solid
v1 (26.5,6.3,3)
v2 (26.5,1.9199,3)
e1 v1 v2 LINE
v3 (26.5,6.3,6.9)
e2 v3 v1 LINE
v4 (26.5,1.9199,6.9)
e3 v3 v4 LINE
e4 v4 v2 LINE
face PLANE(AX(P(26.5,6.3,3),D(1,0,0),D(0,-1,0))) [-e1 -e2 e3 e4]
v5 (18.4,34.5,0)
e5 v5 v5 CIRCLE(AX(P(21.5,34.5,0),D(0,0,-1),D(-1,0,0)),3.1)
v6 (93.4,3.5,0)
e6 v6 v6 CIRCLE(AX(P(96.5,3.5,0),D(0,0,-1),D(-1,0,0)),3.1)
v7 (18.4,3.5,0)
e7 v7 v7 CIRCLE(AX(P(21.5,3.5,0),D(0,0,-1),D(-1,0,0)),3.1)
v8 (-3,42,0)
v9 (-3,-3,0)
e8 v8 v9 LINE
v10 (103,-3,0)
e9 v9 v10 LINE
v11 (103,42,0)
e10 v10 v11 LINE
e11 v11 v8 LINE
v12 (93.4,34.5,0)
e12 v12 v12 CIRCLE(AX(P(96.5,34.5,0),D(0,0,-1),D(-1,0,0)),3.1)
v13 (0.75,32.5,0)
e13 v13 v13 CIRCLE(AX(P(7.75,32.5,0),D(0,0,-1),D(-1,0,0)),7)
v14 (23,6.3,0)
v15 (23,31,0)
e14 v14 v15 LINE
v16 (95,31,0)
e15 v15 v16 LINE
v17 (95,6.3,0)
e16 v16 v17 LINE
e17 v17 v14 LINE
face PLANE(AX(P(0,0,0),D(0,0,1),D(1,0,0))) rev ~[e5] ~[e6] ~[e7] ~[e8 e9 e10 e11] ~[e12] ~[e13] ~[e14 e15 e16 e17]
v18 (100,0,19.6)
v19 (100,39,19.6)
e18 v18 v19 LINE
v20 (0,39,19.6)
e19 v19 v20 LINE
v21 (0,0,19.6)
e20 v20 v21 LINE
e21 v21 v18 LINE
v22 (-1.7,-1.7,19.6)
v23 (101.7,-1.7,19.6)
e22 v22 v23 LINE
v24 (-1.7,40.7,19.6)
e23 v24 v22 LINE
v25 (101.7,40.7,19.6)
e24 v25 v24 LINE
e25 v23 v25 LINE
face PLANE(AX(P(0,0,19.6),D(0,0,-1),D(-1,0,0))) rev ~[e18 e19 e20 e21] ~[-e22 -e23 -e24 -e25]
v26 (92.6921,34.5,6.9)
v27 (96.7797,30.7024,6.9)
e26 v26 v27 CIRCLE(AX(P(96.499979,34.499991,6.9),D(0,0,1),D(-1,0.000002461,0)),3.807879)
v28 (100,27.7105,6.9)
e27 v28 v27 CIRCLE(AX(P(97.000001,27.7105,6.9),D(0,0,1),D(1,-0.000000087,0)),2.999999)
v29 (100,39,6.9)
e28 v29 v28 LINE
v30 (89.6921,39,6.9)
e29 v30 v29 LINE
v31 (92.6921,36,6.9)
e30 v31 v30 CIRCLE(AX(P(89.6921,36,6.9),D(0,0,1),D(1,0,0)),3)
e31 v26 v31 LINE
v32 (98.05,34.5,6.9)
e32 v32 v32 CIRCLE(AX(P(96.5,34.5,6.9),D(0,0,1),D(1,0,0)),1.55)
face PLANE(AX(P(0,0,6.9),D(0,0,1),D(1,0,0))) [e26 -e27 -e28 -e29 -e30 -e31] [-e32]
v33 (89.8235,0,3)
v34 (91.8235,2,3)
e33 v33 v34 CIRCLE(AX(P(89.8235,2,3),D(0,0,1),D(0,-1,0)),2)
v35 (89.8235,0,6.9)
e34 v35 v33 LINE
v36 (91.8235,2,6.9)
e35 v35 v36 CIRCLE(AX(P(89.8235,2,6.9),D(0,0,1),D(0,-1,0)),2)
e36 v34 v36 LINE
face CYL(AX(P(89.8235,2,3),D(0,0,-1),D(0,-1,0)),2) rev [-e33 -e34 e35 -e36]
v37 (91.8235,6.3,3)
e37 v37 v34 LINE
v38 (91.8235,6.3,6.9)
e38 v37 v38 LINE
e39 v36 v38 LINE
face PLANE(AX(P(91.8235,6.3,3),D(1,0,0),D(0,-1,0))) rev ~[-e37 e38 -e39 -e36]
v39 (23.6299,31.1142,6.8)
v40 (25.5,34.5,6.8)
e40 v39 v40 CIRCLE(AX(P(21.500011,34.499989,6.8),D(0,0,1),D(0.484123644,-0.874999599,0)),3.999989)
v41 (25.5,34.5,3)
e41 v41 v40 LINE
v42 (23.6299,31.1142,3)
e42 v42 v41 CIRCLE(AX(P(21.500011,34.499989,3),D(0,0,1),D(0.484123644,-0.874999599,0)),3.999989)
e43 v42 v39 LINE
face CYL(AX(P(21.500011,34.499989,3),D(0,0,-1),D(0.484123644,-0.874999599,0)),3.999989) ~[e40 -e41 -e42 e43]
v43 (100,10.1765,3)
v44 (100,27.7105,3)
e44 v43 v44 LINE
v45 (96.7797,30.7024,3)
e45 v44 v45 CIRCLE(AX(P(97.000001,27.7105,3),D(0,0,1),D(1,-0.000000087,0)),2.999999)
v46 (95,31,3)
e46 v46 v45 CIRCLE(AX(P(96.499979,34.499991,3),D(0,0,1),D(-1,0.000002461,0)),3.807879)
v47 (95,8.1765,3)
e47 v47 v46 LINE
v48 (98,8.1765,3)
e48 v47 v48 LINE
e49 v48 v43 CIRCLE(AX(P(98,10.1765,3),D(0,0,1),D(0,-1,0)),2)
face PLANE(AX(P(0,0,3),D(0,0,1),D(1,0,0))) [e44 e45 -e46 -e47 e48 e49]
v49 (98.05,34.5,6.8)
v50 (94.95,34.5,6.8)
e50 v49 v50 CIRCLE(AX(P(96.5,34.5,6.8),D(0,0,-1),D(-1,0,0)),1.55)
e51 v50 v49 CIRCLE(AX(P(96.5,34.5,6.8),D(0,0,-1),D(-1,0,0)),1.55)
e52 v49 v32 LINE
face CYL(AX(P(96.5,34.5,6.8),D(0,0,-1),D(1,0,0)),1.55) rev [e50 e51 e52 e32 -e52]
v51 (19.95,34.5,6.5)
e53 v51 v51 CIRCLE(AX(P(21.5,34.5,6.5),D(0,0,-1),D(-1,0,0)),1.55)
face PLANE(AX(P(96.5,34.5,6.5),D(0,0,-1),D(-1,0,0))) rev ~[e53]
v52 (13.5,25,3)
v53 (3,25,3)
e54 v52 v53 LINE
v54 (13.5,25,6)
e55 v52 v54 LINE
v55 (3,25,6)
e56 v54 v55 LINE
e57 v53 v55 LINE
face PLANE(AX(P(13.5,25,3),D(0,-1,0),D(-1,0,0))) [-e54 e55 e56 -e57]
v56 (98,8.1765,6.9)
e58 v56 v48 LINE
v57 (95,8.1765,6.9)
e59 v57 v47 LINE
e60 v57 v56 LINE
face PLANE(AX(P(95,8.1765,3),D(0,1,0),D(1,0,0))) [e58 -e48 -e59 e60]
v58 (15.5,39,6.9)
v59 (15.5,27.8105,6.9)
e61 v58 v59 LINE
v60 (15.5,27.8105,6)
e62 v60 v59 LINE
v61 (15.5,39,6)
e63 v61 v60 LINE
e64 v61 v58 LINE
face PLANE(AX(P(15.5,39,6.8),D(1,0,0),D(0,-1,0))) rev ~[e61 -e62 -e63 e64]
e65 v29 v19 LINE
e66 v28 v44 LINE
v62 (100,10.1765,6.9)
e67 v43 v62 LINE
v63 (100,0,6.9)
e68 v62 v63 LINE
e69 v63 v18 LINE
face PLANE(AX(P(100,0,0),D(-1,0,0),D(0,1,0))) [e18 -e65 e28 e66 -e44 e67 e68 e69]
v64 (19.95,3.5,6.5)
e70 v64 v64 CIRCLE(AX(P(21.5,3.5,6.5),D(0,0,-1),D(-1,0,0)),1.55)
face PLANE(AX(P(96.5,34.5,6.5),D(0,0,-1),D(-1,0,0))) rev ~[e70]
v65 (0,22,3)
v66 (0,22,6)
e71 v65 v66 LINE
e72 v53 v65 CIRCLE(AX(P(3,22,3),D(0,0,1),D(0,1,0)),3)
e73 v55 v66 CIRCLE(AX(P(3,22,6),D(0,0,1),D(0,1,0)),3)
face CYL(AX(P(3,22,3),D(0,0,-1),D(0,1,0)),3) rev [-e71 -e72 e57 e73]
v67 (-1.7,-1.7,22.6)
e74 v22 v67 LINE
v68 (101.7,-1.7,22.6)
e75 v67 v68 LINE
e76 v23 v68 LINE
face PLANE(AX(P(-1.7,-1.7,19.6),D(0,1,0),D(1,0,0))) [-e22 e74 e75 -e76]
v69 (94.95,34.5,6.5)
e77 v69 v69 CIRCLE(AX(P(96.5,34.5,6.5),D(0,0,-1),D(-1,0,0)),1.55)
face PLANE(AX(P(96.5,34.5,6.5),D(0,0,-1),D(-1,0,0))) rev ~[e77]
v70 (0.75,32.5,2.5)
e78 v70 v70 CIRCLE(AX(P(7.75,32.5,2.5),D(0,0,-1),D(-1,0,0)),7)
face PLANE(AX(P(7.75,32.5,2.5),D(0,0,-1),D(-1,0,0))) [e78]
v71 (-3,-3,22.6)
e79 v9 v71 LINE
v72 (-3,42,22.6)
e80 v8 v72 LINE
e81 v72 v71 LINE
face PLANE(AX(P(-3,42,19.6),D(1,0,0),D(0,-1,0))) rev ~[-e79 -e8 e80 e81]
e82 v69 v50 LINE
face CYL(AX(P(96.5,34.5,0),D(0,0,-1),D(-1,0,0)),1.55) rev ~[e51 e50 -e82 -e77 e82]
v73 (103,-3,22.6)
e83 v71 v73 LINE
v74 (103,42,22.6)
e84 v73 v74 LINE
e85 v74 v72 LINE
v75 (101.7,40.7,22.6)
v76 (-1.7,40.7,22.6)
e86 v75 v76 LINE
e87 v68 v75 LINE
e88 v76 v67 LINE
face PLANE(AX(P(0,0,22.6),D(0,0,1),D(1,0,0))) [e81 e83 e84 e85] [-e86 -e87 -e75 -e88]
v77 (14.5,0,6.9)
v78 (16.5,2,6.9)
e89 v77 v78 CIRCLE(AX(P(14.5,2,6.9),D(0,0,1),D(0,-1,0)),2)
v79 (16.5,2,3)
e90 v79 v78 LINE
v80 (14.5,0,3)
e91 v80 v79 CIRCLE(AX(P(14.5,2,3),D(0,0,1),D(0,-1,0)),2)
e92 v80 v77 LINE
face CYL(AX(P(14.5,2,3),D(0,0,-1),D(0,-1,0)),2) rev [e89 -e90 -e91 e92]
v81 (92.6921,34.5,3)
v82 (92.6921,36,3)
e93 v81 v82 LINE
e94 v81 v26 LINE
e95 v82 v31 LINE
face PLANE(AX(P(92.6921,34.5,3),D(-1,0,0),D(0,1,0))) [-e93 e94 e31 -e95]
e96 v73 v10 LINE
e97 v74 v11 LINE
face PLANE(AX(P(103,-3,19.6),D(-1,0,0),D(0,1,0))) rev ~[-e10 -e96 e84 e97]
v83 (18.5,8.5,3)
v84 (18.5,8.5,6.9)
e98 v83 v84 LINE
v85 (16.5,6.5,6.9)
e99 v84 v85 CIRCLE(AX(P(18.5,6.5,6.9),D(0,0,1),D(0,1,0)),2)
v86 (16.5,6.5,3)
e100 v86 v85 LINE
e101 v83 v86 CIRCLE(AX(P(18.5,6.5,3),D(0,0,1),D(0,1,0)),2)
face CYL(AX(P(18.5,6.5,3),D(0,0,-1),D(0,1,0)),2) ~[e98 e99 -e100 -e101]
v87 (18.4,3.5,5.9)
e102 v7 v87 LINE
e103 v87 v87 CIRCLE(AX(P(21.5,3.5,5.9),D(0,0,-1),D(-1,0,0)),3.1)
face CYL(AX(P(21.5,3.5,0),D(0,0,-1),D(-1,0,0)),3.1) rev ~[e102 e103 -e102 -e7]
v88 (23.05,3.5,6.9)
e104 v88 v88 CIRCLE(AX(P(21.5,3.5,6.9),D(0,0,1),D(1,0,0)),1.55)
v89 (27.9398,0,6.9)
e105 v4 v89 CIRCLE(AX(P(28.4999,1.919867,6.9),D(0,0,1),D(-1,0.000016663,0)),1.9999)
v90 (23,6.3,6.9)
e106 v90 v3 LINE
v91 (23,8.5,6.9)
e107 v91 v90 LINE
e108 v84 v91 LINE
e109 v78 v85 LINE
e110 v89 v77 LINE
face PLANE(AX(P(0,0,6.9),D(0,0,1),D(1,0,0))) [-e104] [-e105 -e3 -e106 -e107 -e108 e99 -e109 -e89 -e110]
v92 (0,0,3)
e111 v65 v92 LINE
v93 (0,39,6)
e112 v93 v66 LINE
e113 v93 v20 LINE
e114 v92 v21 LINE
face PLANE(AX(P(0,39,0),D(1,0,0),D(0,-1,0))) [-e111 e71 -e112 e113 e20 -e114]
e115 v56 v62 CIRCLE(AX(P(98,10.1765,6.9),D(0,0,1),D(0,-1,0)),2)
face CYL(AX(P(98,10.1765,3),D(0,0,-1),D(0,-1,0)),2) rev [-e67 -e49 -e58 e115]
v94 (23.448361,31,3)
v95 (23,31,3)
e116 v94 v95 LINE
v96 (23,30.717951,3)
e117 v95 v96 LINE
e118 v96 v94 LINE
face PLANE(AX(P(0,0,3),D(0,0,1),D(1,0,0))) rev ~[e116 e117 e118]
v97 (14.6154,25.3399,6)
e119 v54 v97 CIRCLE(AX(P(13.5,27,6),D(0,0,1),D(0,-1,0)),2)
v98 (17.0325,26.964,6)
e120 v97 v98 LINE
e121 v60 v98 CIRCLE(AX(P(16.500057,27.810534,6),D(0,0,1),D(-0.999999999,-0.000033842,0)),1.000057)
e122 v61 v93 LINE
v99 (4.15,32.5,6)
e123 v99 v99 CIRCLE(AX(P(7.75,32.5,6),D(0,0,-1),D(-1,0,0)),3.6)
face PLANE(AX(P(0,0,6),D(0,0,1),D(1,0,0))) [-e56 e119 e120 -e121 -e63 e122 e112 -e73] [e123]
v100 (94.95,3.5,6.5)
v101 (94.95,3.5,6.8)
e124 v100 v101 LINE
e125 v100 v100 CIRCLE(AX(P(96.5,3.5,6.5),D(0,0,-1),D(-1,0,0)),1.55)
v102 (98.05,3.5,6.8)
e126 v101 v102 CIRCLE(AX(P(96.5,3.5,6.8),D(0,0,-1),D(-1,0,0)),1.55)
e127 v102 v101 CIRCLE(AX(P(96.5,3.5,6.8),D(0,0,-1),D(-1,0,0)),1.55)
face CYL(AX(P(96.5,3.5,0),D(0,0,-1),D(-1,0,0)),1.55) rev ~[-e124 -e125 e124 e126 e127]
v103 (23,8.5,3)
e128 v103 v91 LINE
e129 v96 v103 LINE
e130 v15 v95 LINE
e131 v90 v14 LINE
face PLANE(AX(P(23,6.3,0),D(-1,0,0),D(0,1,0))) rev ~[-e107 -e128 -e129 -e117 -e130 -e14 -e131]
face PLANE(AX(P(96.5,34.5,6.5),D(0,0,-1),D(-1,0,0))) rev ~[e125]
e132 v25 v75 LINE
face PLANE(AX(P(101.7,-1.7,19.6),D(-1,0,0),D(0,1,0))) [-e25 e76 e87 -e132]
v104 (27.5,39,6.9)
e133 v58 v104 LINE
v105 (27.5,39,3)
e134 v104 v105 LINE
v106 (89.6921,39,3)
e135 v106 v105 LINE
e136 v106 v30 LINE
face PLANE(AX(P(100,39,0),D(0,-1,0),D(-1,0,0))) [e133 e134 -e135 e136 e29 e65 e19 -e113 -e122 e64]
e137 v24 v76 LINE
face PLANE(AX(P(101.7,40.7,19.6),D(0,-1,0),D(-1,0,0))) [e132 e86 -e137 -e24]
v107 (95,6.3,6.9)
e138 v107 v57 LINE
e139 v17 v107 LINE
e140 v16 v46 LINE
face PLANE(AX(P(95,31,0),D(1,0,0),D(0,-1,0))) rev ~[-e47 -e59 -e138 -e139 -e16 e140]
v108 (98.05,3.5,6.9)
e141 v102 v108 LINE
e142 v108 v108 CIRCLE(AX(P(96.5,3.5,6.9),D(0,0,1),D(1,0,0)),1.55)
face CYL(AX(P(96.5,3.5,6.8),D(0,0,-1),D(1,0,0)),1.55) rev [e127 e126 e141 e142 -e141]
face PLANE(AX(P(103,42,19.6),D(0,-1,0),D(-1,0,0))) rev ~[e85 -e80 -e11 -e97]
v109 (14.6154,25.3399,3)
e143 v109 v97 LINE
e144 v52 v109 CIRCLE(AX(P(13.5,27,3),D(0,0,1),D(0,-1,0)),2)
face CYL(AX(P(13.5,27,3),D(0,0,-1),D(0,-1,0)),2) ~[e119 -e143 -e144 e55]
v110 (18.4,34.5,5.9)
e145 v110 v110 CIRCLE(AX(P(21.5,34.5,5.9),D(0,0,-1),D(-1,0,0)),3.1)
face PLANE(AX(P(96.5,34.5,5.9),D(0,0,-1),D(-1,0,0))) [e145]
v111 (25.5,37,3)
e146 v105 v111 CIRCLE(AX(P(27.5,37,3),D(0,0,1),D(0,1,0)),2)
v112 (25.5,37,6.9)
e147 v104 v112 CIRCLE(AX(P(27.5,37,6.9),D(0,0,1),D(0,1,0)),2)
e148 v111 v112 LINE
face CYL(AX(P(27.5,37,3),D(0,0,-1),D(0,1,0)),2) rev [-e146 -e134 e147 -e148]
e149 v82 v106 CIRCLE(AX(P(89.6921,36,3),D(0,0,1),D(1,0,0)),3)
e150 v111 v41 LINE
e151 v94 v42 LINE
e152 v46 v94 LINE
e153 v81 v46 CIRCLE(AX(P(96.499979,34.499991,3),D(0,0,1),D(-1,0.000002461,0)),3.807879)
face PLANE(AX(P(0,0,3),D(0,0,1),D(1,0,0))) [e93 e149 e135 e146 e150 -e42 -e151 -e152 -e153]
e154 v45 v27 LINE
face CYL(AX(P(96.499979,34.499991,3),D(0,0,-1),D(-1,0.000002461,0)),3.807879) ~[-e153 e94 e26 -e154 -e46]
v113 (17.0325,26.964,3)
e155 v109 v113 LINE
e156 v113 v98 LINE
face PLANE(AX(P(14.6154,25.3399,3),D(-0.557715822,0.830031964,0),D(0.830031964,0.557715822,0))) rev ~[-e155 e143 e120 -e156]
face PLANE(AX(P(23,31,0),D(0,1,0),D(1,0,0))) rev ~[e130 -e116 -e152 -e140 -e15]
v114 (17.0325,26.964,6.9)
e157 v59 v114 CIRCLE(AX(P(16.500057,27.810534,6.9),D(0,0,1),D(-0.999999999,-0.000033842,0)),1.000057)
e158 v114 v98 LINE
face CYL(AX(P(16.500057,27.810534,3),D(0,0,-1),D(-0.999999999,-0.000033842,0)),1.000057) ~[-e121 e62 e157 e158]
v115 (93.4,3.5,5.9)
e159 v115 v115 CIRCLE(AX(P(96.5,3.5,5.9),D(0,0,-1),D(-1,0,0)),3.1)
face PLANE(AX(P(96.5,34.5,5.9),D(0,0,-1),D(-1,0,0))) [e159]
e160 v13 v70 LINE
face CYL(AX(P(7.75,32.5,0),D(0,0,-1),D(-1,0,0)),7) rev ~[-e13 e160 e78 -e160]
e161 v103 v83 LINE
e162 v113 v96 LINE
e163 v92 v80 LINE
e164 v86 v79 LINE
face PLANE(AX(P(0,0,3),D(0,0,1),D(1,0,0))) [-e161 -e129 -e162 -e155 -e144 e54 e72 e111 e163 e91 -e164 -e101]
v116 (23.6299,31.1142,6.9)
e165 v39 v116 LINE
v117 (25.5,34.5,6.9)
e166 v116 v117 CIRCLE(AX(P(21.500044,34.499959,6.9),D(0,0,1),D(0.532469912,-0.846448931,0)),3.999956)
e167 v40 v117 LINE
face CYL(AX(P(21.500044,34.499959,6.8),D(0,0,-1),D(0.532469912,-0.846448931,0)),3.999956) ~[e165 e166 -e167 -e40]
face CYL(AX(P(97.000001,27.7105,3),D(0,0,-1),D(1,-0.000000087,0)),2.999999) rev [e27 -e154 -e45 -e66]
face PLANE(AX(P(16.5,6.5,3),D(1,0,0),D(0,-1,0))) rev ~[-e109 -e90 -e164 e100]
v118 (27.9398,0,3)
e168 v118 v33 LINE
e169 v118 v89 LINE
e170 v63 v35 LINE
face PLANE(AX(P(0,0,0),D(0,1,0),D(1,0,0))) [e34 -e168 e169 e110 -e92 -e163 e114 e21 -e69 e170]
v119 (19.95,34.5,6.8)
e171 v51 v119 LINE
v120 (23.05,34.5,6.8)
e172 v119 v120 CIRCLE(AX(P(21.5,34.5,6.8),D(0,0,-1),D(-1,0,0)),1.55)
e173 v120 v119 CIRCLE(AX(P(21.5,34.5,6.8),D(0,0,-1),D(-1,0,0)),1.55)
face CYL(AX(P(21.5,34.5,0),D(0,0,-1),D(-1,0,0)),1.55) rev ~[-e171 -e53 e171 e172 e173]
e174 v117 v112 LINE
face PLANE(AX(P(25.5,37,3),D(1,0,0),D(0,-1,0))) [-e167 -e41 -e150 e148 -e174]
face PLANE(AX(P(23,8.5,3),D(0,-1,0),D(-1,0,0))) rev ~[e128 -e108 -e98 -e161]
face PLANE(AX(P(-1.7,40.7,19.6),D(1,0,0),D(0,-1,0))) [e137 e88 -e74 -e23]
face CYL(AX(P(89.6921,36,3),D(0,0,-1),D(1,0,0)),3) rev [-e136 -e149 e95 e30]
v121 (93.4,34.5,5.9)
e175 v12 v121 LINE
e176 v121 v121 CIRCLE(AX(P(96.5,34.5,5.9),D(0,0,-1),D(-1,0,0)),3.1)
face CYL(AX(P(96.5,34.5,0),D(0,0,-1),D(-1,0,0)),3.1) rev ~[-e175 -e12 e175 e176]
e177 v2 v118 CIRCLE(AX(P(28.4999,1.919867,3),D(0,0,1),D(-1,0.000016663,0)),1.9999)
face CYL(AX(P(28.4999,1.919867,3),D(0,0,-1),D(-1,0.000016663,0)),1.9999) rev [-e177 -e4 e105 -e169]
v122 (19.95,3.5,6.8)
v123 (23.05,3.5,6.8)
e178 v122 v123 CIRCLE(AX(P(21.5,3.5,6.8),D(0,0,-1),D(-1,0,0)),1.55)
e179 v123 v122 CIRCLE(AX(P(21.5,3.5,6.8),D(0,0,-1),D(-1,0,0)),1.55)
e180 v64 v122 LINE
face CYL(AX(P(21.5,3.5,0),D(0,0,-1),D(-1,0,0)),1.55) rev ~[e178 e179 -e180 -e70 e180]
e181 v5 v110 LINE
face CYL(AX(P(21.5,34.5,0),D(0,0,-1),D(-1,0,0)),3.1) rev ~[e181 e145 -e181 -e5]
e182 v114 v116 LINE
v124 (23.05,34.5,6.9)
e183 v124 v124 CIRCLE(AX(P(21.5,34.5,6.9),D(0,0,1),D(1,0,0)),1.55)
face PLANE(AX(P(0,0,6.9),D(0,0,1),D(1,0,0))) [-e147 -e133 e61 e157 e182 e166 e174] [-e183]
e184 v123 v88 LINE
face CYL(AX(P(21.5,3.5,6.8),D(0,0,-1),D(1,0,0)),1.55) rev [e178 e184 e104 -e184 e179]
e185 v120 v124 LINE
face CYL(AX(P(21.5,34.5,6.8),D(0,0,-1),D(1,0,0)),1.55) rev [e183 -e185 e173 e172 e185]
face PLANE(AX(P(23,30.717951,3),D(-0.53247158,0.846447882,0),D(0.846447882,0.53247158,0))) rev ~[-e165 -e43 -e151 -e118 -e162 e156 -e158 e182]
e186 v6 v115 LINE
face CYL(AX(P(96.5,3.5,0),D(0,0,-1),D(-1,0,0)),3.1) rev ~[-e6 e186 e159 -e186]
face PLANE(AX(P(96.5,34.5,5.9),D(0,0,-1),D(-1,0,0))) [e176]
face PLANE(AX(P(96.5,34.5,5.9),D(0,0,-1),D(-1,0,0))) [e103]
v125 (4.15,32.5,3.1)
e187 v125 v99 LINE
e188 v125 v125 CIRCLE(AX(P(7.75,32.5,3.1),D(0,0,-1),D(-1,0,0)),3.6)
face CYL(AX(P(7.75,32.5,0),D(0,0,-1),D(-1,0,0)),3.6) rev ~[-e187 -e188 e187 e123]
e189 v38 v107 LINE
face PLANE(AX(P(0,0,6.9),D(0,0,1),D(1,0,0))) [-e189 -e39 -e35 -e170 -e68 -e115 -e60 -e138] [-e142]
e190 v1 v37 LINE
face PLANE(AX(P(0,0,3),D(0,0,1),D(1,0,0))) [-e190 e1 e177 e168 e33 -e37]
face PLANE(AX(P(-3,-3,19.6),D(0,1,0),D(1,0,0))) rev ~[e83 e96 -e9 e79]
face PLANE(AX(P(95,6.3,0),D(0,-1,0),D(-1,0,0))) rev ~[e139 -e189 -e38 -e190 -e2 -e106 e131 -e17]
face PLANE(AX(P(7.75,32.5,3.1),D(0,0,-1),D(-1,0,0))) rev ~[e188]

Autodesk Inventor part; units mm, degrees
ref_plane "YZ Plane" through (0, 0, 0) normal (1, 0, 0) x (0, 1, 0)
ref_plane "XZ Plane" through (0, 0, 0) normal (0, 1, 0) x (-1, 0, 0)
ref_plane "XY Plane" through (0, 0, 0) normal (0, 0, 1) x (1, 0, 0)
sketch "Sketch1" plane through (0, 0, 0) normal (0, 0, 1) x (1, 0, 0)
  line L0 (0, 0) -> (100, 0)
  line L1 (100, 0) -> (100, 39)
  line L2 (100, 39) -> (0, 39)
  line L3 (0, 39) -> (0, 0)
  dimension "d45" = 100
  dimension "d46" = 39
extrude "bottom" add sketch "Sketch1" along normal blind 3
sketch "Sketch5" plane through (0, 0, 0) normal (0, 0, -1) x (-1, 0, 0)
  line L0 (0, 0) -> (-100, 0) projected
  line L1 (0, 39) -> (0, 0) projected
  line L2 (-100, 39) -> (0, 39) projected
  line L3 (-100, 0) -> (-100, 39) projected
  line L4 (3, 42) -> (3, -3)
  line L5 (3, -3) -> (-103, -3)
  line L6 (-103, -3) -> (-103, 42)
  line L7 (-103, 42) -> (3, 42)
  dimension "d30" = 3
extrude "walls" add sketch "Sketch5" against normal blind 19.6
sketch "holes" plane through (0, 0, 0) normal (0, 0, 1) x (1, 0, 0)
  line L0 (0, 0) -> (100, 0) projected
  line L1 (100, 0) -> (100, 39) projected
  line L2 (100, 39) -> (0, 39) projected
  line L3 (0, 39) -> (0, 0) projected
  circle A0 centre (21.5, 34.5) radius 1.55 construction
  circle A1 centre (96.5, 34.5) radius 1.55 construction
  circle A2 centre (96.5, 3.5) radius 1.55 construction
  circle A3 centre (21.5, 3.5) radius 1.55 construction
  line L4 (21.5, 34.5) -> (21.5, 3.5) construction
  line L5 (21.5, 3.5) -> (96.5, 3.5) construction
  line L6 (96.5, 3.5) -> (96.5, 34.5) construction
  line L7 (96.5, 34.5) -> (21.5, 34.5) construction
  dimension "d33" = 3.1
  dimension "d34" = 75
  dimension "d35" = 31
  dimension "d50" = 3.5
  dimension "d51" = 3.5
sketch "Sketch8" plane through (0, 0, 0) normal (0, 0, -1) x (-1, 0, 0)
  line L0 (-95, 6.3) -> (-23, 6.3)
  line L1 (-23, 6.3) -> (-23, 31)
  line L2 (-23, 31) -> (-95, 31)
  line L3 (-95, 31) -> (-95, 6.3)
  line L4 (3, -3) -> (-103, -3) projected
  line L5 (-96.5, 3.5) -> (-96.5, 34.5) construction
  line L6 (-21.5, 34.5) -> (-21.5, 3.5) construction
  point P0 (0, 0)
  dimension "d99" = 1.5
  dimension "d100" = 1.5
  dimension "d101" = 3.5
  dimension "d102" = 2.8
extrude "display" cut sketch "Sketch8" along normal through all both and the other way through all
sketch "Sketch7" plane through (0, 0, 3) normal (0, 0, 1) x (1, 0, 0)
  circle A0 centre (96.5, 34.5) radius 1.55 construction
  circle A1 centre (21.5, 3.5) radius 1.55 construction
  circle A2 centre (21.5, 34.5) radius 1.55 construction
  arc A3 (23.4365, 31) -> (25.5, 34.5) centre (21.5, 34.5) ccw
  line L0 (15.5, 39) -> (27.5, 39)
  line L1 (0, 39) -> (100, 39) projected
  arc A4 (27.5, 39) -> (25.5, 37) centre (27.5, 37) ccw
  line L2 (25.5, 37) -> (25.5, 34.5)
  line L3 (16.3235, 0) -> (26.6765, 0)
  line L4 (23, 31) -> (95, 31) construction
  arc A5 (92.6921, 34.5) -> (96.7797, 30.7024) centre (96.5, 34.5) ccw
  line L5 (92.6921, 34.5) -> (92.6921, 36)
  arc A6 (92.6921, 36) -> (89.6921, 39) centre (89.6921, 36) ccw
  line L6 (100, 0) -> (100, 39) projected
  arc A7 (100, 27.7105) -> (96.7797, 30.7024) centre (97, 27.7105) ccw
  line L7 (100, 39) -> (0, 39) projected
  line L8 (89.6921, 39) -> (100, 39)
  line L9 (100, 39) -> (100, 27.7105)
  circle A8 centre (96.5, 3.5) radius 3.1765 construction
  line L10 (0, 0) -> (100, 0) projected
  arc A9 (90.3438, 0) -> (93.3339, 3.2429) centre (90.3438, 3) ccw construction
  arc A10 (96.7571, 6.6661) -> (100, 9.6562) centre (97, 9.6562) ccw construction
  line L11 (100, 9.6562) -> (100, 0)
  line L12 (100, 0) -> (90.3438, 0)
  line L13 (15.5, 39) -> (15.5, 27.8105)
  line L14 (17.0325, 26.964) -> (23.6299, 31.1142)
  line L15 (0, 0) -> (0, 39) projected
  arc A11 (15.5, 27.8105) -> (17.0325, 26.964) centre (16.5, 27.8105) ccw
  line L16 (100, 0) -> (0, 0) projected
  line L17 (96.5, 6.6765) -> (95, 6.6765) construction
  line L18 (95, 6.6765) -> (95, 6.3)
  line L19 (23, 6.3) -> (95, 6.3) projected
  line L20 (95, 6.3) -> (93.3235, 6.3)
  line L21 (93.3235, 6.3) -> (93.3235, 3.5) construction
  line L22 (91.8235, 6.3) -> (91.8235, 2)
  arc A12 (89.8235, 0) -> (91.8235, 2) centre (89.8235, 2) ccw
  line L23 (95, 8.1765) -> (98, 8.1765)
  arc A13 (98, 8.1765) -> (100, 10.1765) centre (98, 10.1765) ccw
  line L24 (100, 39) -> (100, 0) projected
  line L25 (95, 6.6765) -> (95, 8.1765)
  line L26 (95, 6.3) -> (95, 31) construction
  line L27 (95, 6.3) -> (23, 6.3) construction
  line L28 (26.5, 6.3) -> (26.5, 1.9199)
  arc A14 (26.5, 1.9199) -> (27.9398, 0) centre (28.5, 1.9199) ccw
  line L29 (23, 8.5) -> (18.5, 8.5)
  arc A15 (18.5, 8.5) -> (16.5, 6.5) centre (18.5, 6.5) ccw
  line L30 (16.5, 6.5) -> (16.5, 2)
  arc A16 (14.5, 0) -> (16.5, 2) centre (14.5, 2) ccw
  line L31 (23, 31) -> (23, 6.3) projected
  line L32 (23, 8.5) -> (23, 6.3)
  line L33 (23, 6.3) -> (26.5, 6.3)
  point P0 (15.5, 26)
  dimension "d54" = 8
  dimension "d61" = 3
  dimension "d62" = 3
  dimension "d65" = 3
  dimension "d66" = 3
  dimension "d81" = 15.5
  dimension "d82" = 13
  dimension "d83" = 1
  dimension "d103" = 1.5
  dimension "d104" = 1.5
  dimension "d105" = 2
  dimension "d106" = 2
  dimension "d117" = 2
  dimension "d118" = 5
  dimension "d119" = 5
  dimension "d120" = 2
  dimension "d121" = 2
  dimension "d122" = 2
  dimension "d123" = 5
extrude "Extrusion19" add sketch "Sketch7" along normal blind 3.8 contours L14 A11 L13 L0 A4 L2 A3 | L31 L19 L28 A14 L10 L3 A16 L30 A15 L29 | L1 L6 A7 A5 L5 A6 | L19 L18 L25 L23 A13 L6 L10 A12 L22
sketch "Sketch9" plane through (0, 0, 0) normal (0, 0, -1) x (-1, 0, 0)
  circle A0 centre (-21.5, 3.5) radius 1.55 construction
  circle A1 centre (-21.5, 34.5) radius 1.55 construction
  circle A2 centre (-21.5, 34.5) radius 3.1
  circle A3 centre (-21.5, 3.5) radius 3.1
  circle A4 centre (-96.5, 34.5) radius 1.55 construction
  circle A5 centre (-96.5, 3.5) radius 1.55 construction
  circle A6 centre (-96.5, 34.5) radius 3.1
  circle A7 centre (-96.5, 3.5) radius 3.1
  line L0 (-95, 6.3) -> (-95, 31) projected
  point P0 (0, 0)
  point P1 (-94.7478, 6.0573)
  point P2 (-95.3418, 6.3755)
  dimension "d57" = 6.2
  dimension "d58" = 6.2
  dimension "d109" = 6.2
extrude "bolt holes" cut sketch "Sketch9" against normal blind 6.5
sketch "Sketch10" plane through (0, 0, 0) normal (0, 0, -1) x (-1, 0, 0)
  circle A0 centre (-96.5, 34.5) radius 1.55 projected
  circle A1 centre (-96.5, 3.5) radius 1.55 projected
  circle A2 centre (-21.5, 3.5) radius 1.55 projected
  circle A3 centre (-21.5, 34.5) radius 1.55 projected
  point P0 (0, 0)
extrude "holes screws" cut sketch "Sketch10" along normal through all both and the other way through all
sketch "Sketch11" plane through (96.5, 34.5, 6.5) normal (0, 0, -1) x (-1, 0, 0)
  circle A0 centre (75, 0) radius 1.55 projected
  circle A1 centre (75, 0) radius 3.1 projected
  circle A2 centre (75, -31) radius 3.1 projected
  circle A3 centre (0, -31) radius 1.55 projected
  circle A4 centre (0, -31) radius 3.1 projected
  circle A5 centre (0, 0) radius 3.1 projected
  point P0 (96.5, -34.5)
extrude "fill after hole" add sketch "Sketch11" along normal blind 0.6 contours A0 | A1 | A2 | A3 | A4 | A5
sketch "Sketch13" plane through (0, 0, 19.6) normal (0, 0, 1) x (1, 0, 0)
  line L0 (0, 0) -> (0, 39) projected
  line L1 (0, 39) -> (100, 39) projected
  line L2 (100, 39) -> (100, 0) projected
  line L3 (100, 0) -> (0, 0) projected
  line L4 (-3, 42) -> (-3, -3) projected
  line L5 (-3, -3) -> (103, -3) projected
  line L6 (103, -3) -> (103, 42) projected
  line L7 (103, 42) -> (-3, 42) projected
  line L8 (-1.7, 40.7) -> (-1.7, -1.7)
  line L9 (-1.7, -1.7) -> (101.7, -1.7)
  line L10 (101.7, -1.7) -> (101.7, 40.7)
  line L11 (101.7, 40.7) -> (-1.7, 40.7)
  dimension "d126" = 1.3
  dimension "d127" = 1.3
  dimension "d128" = 1.3
  dimension "d129" = 1.3
extrude "collar" add sketch "Sketch13" along normal blind 3 contours L7 L6 L5 L4
sketch "Sketch15" plane through (0, 0, 3) normal (0, 0, 1) x (1, 0, 0)
  line L0 (100, 39) -> (0, 39) projected
  line L1 (0, 39) -> (15.5, 39)
  line L2 (15.5, 39) -> (15.5, 27)
  line L3 (13.5, 25) -> (0, 25)
  line L4 (0, 25) -> (0, 39)
  line L5 (0, 0) -> (0, 39) projected
  arc A0 (3, 25) -> (0, 22) centre (3, 22) ccw
  line L6 (0, 25) -> (0, 22)
  arc A1 (13.5, 25) -> (15.5, 27) centre (13.5, 27) ccw
  line L7 (14.6154, 25.3399) -> (17.0325, 26.964)
  arc A2 (15.5, 27.8105) -> (17.0325, 26.964) centre (16.5, 27.8105) ccw projected
  point P0 (15.5, 39)
  point P1 (15.5, 25)
  dimension "d90" = 14
  dimension "d95" = 3
  dimension "d96" = 2
extrude "encoder standoff" add sketch "Sketch15" along normal blind 3
sketch "Sketch12" plane through (0, 0, 0) normal (0, 0, -1) x (-1, 0, 0)
  circle A0 centre (-7.75, 32.5) radius 3.6
  line L0 (0, 0) -> (0, 39) projected
  line L1 (-7.75, 32.5) -> (-15.5, 32.5) construction
  line L2 (-7.75, 32.5) -> (0, 32.5) construction
  line L3 (0, 39) -> (-100, 39) construction
  line L4 (0, 22) -> (0, 0) projected
  line L5 (-89.6921, 39) -> (-27.5, 39) projected
  line L6 (0, 22) -> (0, 39) projected
  line L7 (0, 39) -> (-15.5, 39) projected
  line L8 (-15.5, 39) -> (-15.5, 27.8105) projected
  line L9 (-15.5, 39) -> (-27.5, 39) projected
  line L10 (-89.6921, 39) -> (-100, 39) projected
  point P0 (-15.5, 39)
  dimension "d71" = 7.2
  dimension "d112" = 6.5
extrude "encoder hole" cut sketch "Sketch12" along normal through all both and the other way through all
sketch "Sketch14" plane through (0, 0, 0) normal (0, 0, -1) x (-1, 0, 0)
  circle A0 centre (-7.75, 32.5) radius 3.6 projected
  circle A1 centre (-7.75, 32.5) radius 7
  point P0 (0, 0)
  dimension "d87" = 14
extrude "encoder nut" cut sketch "Sketch14" against normal blind 2.5
sketch "Sketch16" plane through (7.75, 32.5, 2.5) normal (0, 0, -1) x (-1, 0, 0)
  circle A0 centre (0, 0) radius 3.6 projected
  point P0 (7.75, -32.5)
extrude "encoder fill before hole" add sketch "Sketch16" against normal blind 0.6
sketch "Sketch18" plane through (0, 0, 6.8) normal (0, 0, 1) x (1, 0, 0)
  circle A0 centre (21.5, 34.5) radius 1.55 projected
  line L0 (15.5, 39) -> (15.5, 27.8105) projected
  arc A1 (15.5, 27.8105) -> (17.0325, 26.964) centre (16.5, 27.8105) ccw projected
  line L1 (17.0325, 26.964) -> (23.6299, 31.1142) projected
  arc A2 (23.6299, 31.1142) -> (25.5, 34.5) centre (21.5, 34.5) ccw projected
  line L2 (25.5, 34.5) -> (25.5, 37) projected
  arc A3 (27.5, 39) -> (25.5, 37) centre (27.5, 37) ccw projected
  line L3 (15.5, 39) -> (27.5, 39) projected
  circle A4 centre (21.5, 3.5) radius 1.55 projected
  arc A5 (14.5, 0) -> (16.5, 2) centre (14.5, 2) ccw projected
  line L4 (27.9398, 0) -> (14.5, 0) projected
  arc A6 (26.5, 1.9199) -> (27.9398, 0) centre (28.5, 1.9199) ccw projected
  line L5 (26.5, 6.3) -> (26.5, 1.9199) projected
  line L6 (23, 6.3) -> (26.5, 6.3) projected
  line L7 (23, 8.5) -> (23, 6.3) projected
  line L8 (18.5, 8.5) -> (23, 8.5) projected
  arc A7 (18.5, 8.5) -> (16.5, 6.5) centre (18.5, 6.5) ccw projected
  line L9 (16.5, 2) -> (16.5, 6.5) projected
  circle A8 centre (96.5, 3.5) radius 1.55 projected
  line L10 (100, 0) -> (89.8235, 0) projected
  line L11 (100, 10.1765) -> (100, 0) projected
  arc A9 (98, 8.1765) -> (100, 10.1765) centre (98, 10.1765) ccw projected
  line L12 (95, 8.1765) -> (98, 8.1765) projected
  line L13 (95, 6.3) -> (95, 8.1765) projected
  line L14 (91.8235, 6.3) -> (95, 6.3) projected
  line L15 (91.8235, 2) -> (91.8235, 6.3) projected
  arc A10 (89.8235, 0) -> (91.8235, 2) centre (89.8235, 2) ccw projected
  circle A11 centre (96.5, 34.5) radius 1.55 projected
  arc A12 (92.6921, 36) -> (89.6921, 39) centre (89.6921, 36) ccw projected
  line L16 (92.6921, 34.5) -> (92.6921, 36) projected
  arc A13 (92.6921, 34.5) -> (96.7797, 30.7024) centre (96.5, 34.5) ccw projected
  arc A14 (100, 27.7105) -> (96.7797, 30.7024) centre (97, 27.7105) ccw projected
  line L17 (100, 39) -> (100, 27.7105) projected
  line L18 (89.6921, 39) -> (100, 39) projected
  point P0 (0, 0)
extrude "Extrusion21" add sketch "Sketch18" along normal blind 0.1
properties part number "top"
